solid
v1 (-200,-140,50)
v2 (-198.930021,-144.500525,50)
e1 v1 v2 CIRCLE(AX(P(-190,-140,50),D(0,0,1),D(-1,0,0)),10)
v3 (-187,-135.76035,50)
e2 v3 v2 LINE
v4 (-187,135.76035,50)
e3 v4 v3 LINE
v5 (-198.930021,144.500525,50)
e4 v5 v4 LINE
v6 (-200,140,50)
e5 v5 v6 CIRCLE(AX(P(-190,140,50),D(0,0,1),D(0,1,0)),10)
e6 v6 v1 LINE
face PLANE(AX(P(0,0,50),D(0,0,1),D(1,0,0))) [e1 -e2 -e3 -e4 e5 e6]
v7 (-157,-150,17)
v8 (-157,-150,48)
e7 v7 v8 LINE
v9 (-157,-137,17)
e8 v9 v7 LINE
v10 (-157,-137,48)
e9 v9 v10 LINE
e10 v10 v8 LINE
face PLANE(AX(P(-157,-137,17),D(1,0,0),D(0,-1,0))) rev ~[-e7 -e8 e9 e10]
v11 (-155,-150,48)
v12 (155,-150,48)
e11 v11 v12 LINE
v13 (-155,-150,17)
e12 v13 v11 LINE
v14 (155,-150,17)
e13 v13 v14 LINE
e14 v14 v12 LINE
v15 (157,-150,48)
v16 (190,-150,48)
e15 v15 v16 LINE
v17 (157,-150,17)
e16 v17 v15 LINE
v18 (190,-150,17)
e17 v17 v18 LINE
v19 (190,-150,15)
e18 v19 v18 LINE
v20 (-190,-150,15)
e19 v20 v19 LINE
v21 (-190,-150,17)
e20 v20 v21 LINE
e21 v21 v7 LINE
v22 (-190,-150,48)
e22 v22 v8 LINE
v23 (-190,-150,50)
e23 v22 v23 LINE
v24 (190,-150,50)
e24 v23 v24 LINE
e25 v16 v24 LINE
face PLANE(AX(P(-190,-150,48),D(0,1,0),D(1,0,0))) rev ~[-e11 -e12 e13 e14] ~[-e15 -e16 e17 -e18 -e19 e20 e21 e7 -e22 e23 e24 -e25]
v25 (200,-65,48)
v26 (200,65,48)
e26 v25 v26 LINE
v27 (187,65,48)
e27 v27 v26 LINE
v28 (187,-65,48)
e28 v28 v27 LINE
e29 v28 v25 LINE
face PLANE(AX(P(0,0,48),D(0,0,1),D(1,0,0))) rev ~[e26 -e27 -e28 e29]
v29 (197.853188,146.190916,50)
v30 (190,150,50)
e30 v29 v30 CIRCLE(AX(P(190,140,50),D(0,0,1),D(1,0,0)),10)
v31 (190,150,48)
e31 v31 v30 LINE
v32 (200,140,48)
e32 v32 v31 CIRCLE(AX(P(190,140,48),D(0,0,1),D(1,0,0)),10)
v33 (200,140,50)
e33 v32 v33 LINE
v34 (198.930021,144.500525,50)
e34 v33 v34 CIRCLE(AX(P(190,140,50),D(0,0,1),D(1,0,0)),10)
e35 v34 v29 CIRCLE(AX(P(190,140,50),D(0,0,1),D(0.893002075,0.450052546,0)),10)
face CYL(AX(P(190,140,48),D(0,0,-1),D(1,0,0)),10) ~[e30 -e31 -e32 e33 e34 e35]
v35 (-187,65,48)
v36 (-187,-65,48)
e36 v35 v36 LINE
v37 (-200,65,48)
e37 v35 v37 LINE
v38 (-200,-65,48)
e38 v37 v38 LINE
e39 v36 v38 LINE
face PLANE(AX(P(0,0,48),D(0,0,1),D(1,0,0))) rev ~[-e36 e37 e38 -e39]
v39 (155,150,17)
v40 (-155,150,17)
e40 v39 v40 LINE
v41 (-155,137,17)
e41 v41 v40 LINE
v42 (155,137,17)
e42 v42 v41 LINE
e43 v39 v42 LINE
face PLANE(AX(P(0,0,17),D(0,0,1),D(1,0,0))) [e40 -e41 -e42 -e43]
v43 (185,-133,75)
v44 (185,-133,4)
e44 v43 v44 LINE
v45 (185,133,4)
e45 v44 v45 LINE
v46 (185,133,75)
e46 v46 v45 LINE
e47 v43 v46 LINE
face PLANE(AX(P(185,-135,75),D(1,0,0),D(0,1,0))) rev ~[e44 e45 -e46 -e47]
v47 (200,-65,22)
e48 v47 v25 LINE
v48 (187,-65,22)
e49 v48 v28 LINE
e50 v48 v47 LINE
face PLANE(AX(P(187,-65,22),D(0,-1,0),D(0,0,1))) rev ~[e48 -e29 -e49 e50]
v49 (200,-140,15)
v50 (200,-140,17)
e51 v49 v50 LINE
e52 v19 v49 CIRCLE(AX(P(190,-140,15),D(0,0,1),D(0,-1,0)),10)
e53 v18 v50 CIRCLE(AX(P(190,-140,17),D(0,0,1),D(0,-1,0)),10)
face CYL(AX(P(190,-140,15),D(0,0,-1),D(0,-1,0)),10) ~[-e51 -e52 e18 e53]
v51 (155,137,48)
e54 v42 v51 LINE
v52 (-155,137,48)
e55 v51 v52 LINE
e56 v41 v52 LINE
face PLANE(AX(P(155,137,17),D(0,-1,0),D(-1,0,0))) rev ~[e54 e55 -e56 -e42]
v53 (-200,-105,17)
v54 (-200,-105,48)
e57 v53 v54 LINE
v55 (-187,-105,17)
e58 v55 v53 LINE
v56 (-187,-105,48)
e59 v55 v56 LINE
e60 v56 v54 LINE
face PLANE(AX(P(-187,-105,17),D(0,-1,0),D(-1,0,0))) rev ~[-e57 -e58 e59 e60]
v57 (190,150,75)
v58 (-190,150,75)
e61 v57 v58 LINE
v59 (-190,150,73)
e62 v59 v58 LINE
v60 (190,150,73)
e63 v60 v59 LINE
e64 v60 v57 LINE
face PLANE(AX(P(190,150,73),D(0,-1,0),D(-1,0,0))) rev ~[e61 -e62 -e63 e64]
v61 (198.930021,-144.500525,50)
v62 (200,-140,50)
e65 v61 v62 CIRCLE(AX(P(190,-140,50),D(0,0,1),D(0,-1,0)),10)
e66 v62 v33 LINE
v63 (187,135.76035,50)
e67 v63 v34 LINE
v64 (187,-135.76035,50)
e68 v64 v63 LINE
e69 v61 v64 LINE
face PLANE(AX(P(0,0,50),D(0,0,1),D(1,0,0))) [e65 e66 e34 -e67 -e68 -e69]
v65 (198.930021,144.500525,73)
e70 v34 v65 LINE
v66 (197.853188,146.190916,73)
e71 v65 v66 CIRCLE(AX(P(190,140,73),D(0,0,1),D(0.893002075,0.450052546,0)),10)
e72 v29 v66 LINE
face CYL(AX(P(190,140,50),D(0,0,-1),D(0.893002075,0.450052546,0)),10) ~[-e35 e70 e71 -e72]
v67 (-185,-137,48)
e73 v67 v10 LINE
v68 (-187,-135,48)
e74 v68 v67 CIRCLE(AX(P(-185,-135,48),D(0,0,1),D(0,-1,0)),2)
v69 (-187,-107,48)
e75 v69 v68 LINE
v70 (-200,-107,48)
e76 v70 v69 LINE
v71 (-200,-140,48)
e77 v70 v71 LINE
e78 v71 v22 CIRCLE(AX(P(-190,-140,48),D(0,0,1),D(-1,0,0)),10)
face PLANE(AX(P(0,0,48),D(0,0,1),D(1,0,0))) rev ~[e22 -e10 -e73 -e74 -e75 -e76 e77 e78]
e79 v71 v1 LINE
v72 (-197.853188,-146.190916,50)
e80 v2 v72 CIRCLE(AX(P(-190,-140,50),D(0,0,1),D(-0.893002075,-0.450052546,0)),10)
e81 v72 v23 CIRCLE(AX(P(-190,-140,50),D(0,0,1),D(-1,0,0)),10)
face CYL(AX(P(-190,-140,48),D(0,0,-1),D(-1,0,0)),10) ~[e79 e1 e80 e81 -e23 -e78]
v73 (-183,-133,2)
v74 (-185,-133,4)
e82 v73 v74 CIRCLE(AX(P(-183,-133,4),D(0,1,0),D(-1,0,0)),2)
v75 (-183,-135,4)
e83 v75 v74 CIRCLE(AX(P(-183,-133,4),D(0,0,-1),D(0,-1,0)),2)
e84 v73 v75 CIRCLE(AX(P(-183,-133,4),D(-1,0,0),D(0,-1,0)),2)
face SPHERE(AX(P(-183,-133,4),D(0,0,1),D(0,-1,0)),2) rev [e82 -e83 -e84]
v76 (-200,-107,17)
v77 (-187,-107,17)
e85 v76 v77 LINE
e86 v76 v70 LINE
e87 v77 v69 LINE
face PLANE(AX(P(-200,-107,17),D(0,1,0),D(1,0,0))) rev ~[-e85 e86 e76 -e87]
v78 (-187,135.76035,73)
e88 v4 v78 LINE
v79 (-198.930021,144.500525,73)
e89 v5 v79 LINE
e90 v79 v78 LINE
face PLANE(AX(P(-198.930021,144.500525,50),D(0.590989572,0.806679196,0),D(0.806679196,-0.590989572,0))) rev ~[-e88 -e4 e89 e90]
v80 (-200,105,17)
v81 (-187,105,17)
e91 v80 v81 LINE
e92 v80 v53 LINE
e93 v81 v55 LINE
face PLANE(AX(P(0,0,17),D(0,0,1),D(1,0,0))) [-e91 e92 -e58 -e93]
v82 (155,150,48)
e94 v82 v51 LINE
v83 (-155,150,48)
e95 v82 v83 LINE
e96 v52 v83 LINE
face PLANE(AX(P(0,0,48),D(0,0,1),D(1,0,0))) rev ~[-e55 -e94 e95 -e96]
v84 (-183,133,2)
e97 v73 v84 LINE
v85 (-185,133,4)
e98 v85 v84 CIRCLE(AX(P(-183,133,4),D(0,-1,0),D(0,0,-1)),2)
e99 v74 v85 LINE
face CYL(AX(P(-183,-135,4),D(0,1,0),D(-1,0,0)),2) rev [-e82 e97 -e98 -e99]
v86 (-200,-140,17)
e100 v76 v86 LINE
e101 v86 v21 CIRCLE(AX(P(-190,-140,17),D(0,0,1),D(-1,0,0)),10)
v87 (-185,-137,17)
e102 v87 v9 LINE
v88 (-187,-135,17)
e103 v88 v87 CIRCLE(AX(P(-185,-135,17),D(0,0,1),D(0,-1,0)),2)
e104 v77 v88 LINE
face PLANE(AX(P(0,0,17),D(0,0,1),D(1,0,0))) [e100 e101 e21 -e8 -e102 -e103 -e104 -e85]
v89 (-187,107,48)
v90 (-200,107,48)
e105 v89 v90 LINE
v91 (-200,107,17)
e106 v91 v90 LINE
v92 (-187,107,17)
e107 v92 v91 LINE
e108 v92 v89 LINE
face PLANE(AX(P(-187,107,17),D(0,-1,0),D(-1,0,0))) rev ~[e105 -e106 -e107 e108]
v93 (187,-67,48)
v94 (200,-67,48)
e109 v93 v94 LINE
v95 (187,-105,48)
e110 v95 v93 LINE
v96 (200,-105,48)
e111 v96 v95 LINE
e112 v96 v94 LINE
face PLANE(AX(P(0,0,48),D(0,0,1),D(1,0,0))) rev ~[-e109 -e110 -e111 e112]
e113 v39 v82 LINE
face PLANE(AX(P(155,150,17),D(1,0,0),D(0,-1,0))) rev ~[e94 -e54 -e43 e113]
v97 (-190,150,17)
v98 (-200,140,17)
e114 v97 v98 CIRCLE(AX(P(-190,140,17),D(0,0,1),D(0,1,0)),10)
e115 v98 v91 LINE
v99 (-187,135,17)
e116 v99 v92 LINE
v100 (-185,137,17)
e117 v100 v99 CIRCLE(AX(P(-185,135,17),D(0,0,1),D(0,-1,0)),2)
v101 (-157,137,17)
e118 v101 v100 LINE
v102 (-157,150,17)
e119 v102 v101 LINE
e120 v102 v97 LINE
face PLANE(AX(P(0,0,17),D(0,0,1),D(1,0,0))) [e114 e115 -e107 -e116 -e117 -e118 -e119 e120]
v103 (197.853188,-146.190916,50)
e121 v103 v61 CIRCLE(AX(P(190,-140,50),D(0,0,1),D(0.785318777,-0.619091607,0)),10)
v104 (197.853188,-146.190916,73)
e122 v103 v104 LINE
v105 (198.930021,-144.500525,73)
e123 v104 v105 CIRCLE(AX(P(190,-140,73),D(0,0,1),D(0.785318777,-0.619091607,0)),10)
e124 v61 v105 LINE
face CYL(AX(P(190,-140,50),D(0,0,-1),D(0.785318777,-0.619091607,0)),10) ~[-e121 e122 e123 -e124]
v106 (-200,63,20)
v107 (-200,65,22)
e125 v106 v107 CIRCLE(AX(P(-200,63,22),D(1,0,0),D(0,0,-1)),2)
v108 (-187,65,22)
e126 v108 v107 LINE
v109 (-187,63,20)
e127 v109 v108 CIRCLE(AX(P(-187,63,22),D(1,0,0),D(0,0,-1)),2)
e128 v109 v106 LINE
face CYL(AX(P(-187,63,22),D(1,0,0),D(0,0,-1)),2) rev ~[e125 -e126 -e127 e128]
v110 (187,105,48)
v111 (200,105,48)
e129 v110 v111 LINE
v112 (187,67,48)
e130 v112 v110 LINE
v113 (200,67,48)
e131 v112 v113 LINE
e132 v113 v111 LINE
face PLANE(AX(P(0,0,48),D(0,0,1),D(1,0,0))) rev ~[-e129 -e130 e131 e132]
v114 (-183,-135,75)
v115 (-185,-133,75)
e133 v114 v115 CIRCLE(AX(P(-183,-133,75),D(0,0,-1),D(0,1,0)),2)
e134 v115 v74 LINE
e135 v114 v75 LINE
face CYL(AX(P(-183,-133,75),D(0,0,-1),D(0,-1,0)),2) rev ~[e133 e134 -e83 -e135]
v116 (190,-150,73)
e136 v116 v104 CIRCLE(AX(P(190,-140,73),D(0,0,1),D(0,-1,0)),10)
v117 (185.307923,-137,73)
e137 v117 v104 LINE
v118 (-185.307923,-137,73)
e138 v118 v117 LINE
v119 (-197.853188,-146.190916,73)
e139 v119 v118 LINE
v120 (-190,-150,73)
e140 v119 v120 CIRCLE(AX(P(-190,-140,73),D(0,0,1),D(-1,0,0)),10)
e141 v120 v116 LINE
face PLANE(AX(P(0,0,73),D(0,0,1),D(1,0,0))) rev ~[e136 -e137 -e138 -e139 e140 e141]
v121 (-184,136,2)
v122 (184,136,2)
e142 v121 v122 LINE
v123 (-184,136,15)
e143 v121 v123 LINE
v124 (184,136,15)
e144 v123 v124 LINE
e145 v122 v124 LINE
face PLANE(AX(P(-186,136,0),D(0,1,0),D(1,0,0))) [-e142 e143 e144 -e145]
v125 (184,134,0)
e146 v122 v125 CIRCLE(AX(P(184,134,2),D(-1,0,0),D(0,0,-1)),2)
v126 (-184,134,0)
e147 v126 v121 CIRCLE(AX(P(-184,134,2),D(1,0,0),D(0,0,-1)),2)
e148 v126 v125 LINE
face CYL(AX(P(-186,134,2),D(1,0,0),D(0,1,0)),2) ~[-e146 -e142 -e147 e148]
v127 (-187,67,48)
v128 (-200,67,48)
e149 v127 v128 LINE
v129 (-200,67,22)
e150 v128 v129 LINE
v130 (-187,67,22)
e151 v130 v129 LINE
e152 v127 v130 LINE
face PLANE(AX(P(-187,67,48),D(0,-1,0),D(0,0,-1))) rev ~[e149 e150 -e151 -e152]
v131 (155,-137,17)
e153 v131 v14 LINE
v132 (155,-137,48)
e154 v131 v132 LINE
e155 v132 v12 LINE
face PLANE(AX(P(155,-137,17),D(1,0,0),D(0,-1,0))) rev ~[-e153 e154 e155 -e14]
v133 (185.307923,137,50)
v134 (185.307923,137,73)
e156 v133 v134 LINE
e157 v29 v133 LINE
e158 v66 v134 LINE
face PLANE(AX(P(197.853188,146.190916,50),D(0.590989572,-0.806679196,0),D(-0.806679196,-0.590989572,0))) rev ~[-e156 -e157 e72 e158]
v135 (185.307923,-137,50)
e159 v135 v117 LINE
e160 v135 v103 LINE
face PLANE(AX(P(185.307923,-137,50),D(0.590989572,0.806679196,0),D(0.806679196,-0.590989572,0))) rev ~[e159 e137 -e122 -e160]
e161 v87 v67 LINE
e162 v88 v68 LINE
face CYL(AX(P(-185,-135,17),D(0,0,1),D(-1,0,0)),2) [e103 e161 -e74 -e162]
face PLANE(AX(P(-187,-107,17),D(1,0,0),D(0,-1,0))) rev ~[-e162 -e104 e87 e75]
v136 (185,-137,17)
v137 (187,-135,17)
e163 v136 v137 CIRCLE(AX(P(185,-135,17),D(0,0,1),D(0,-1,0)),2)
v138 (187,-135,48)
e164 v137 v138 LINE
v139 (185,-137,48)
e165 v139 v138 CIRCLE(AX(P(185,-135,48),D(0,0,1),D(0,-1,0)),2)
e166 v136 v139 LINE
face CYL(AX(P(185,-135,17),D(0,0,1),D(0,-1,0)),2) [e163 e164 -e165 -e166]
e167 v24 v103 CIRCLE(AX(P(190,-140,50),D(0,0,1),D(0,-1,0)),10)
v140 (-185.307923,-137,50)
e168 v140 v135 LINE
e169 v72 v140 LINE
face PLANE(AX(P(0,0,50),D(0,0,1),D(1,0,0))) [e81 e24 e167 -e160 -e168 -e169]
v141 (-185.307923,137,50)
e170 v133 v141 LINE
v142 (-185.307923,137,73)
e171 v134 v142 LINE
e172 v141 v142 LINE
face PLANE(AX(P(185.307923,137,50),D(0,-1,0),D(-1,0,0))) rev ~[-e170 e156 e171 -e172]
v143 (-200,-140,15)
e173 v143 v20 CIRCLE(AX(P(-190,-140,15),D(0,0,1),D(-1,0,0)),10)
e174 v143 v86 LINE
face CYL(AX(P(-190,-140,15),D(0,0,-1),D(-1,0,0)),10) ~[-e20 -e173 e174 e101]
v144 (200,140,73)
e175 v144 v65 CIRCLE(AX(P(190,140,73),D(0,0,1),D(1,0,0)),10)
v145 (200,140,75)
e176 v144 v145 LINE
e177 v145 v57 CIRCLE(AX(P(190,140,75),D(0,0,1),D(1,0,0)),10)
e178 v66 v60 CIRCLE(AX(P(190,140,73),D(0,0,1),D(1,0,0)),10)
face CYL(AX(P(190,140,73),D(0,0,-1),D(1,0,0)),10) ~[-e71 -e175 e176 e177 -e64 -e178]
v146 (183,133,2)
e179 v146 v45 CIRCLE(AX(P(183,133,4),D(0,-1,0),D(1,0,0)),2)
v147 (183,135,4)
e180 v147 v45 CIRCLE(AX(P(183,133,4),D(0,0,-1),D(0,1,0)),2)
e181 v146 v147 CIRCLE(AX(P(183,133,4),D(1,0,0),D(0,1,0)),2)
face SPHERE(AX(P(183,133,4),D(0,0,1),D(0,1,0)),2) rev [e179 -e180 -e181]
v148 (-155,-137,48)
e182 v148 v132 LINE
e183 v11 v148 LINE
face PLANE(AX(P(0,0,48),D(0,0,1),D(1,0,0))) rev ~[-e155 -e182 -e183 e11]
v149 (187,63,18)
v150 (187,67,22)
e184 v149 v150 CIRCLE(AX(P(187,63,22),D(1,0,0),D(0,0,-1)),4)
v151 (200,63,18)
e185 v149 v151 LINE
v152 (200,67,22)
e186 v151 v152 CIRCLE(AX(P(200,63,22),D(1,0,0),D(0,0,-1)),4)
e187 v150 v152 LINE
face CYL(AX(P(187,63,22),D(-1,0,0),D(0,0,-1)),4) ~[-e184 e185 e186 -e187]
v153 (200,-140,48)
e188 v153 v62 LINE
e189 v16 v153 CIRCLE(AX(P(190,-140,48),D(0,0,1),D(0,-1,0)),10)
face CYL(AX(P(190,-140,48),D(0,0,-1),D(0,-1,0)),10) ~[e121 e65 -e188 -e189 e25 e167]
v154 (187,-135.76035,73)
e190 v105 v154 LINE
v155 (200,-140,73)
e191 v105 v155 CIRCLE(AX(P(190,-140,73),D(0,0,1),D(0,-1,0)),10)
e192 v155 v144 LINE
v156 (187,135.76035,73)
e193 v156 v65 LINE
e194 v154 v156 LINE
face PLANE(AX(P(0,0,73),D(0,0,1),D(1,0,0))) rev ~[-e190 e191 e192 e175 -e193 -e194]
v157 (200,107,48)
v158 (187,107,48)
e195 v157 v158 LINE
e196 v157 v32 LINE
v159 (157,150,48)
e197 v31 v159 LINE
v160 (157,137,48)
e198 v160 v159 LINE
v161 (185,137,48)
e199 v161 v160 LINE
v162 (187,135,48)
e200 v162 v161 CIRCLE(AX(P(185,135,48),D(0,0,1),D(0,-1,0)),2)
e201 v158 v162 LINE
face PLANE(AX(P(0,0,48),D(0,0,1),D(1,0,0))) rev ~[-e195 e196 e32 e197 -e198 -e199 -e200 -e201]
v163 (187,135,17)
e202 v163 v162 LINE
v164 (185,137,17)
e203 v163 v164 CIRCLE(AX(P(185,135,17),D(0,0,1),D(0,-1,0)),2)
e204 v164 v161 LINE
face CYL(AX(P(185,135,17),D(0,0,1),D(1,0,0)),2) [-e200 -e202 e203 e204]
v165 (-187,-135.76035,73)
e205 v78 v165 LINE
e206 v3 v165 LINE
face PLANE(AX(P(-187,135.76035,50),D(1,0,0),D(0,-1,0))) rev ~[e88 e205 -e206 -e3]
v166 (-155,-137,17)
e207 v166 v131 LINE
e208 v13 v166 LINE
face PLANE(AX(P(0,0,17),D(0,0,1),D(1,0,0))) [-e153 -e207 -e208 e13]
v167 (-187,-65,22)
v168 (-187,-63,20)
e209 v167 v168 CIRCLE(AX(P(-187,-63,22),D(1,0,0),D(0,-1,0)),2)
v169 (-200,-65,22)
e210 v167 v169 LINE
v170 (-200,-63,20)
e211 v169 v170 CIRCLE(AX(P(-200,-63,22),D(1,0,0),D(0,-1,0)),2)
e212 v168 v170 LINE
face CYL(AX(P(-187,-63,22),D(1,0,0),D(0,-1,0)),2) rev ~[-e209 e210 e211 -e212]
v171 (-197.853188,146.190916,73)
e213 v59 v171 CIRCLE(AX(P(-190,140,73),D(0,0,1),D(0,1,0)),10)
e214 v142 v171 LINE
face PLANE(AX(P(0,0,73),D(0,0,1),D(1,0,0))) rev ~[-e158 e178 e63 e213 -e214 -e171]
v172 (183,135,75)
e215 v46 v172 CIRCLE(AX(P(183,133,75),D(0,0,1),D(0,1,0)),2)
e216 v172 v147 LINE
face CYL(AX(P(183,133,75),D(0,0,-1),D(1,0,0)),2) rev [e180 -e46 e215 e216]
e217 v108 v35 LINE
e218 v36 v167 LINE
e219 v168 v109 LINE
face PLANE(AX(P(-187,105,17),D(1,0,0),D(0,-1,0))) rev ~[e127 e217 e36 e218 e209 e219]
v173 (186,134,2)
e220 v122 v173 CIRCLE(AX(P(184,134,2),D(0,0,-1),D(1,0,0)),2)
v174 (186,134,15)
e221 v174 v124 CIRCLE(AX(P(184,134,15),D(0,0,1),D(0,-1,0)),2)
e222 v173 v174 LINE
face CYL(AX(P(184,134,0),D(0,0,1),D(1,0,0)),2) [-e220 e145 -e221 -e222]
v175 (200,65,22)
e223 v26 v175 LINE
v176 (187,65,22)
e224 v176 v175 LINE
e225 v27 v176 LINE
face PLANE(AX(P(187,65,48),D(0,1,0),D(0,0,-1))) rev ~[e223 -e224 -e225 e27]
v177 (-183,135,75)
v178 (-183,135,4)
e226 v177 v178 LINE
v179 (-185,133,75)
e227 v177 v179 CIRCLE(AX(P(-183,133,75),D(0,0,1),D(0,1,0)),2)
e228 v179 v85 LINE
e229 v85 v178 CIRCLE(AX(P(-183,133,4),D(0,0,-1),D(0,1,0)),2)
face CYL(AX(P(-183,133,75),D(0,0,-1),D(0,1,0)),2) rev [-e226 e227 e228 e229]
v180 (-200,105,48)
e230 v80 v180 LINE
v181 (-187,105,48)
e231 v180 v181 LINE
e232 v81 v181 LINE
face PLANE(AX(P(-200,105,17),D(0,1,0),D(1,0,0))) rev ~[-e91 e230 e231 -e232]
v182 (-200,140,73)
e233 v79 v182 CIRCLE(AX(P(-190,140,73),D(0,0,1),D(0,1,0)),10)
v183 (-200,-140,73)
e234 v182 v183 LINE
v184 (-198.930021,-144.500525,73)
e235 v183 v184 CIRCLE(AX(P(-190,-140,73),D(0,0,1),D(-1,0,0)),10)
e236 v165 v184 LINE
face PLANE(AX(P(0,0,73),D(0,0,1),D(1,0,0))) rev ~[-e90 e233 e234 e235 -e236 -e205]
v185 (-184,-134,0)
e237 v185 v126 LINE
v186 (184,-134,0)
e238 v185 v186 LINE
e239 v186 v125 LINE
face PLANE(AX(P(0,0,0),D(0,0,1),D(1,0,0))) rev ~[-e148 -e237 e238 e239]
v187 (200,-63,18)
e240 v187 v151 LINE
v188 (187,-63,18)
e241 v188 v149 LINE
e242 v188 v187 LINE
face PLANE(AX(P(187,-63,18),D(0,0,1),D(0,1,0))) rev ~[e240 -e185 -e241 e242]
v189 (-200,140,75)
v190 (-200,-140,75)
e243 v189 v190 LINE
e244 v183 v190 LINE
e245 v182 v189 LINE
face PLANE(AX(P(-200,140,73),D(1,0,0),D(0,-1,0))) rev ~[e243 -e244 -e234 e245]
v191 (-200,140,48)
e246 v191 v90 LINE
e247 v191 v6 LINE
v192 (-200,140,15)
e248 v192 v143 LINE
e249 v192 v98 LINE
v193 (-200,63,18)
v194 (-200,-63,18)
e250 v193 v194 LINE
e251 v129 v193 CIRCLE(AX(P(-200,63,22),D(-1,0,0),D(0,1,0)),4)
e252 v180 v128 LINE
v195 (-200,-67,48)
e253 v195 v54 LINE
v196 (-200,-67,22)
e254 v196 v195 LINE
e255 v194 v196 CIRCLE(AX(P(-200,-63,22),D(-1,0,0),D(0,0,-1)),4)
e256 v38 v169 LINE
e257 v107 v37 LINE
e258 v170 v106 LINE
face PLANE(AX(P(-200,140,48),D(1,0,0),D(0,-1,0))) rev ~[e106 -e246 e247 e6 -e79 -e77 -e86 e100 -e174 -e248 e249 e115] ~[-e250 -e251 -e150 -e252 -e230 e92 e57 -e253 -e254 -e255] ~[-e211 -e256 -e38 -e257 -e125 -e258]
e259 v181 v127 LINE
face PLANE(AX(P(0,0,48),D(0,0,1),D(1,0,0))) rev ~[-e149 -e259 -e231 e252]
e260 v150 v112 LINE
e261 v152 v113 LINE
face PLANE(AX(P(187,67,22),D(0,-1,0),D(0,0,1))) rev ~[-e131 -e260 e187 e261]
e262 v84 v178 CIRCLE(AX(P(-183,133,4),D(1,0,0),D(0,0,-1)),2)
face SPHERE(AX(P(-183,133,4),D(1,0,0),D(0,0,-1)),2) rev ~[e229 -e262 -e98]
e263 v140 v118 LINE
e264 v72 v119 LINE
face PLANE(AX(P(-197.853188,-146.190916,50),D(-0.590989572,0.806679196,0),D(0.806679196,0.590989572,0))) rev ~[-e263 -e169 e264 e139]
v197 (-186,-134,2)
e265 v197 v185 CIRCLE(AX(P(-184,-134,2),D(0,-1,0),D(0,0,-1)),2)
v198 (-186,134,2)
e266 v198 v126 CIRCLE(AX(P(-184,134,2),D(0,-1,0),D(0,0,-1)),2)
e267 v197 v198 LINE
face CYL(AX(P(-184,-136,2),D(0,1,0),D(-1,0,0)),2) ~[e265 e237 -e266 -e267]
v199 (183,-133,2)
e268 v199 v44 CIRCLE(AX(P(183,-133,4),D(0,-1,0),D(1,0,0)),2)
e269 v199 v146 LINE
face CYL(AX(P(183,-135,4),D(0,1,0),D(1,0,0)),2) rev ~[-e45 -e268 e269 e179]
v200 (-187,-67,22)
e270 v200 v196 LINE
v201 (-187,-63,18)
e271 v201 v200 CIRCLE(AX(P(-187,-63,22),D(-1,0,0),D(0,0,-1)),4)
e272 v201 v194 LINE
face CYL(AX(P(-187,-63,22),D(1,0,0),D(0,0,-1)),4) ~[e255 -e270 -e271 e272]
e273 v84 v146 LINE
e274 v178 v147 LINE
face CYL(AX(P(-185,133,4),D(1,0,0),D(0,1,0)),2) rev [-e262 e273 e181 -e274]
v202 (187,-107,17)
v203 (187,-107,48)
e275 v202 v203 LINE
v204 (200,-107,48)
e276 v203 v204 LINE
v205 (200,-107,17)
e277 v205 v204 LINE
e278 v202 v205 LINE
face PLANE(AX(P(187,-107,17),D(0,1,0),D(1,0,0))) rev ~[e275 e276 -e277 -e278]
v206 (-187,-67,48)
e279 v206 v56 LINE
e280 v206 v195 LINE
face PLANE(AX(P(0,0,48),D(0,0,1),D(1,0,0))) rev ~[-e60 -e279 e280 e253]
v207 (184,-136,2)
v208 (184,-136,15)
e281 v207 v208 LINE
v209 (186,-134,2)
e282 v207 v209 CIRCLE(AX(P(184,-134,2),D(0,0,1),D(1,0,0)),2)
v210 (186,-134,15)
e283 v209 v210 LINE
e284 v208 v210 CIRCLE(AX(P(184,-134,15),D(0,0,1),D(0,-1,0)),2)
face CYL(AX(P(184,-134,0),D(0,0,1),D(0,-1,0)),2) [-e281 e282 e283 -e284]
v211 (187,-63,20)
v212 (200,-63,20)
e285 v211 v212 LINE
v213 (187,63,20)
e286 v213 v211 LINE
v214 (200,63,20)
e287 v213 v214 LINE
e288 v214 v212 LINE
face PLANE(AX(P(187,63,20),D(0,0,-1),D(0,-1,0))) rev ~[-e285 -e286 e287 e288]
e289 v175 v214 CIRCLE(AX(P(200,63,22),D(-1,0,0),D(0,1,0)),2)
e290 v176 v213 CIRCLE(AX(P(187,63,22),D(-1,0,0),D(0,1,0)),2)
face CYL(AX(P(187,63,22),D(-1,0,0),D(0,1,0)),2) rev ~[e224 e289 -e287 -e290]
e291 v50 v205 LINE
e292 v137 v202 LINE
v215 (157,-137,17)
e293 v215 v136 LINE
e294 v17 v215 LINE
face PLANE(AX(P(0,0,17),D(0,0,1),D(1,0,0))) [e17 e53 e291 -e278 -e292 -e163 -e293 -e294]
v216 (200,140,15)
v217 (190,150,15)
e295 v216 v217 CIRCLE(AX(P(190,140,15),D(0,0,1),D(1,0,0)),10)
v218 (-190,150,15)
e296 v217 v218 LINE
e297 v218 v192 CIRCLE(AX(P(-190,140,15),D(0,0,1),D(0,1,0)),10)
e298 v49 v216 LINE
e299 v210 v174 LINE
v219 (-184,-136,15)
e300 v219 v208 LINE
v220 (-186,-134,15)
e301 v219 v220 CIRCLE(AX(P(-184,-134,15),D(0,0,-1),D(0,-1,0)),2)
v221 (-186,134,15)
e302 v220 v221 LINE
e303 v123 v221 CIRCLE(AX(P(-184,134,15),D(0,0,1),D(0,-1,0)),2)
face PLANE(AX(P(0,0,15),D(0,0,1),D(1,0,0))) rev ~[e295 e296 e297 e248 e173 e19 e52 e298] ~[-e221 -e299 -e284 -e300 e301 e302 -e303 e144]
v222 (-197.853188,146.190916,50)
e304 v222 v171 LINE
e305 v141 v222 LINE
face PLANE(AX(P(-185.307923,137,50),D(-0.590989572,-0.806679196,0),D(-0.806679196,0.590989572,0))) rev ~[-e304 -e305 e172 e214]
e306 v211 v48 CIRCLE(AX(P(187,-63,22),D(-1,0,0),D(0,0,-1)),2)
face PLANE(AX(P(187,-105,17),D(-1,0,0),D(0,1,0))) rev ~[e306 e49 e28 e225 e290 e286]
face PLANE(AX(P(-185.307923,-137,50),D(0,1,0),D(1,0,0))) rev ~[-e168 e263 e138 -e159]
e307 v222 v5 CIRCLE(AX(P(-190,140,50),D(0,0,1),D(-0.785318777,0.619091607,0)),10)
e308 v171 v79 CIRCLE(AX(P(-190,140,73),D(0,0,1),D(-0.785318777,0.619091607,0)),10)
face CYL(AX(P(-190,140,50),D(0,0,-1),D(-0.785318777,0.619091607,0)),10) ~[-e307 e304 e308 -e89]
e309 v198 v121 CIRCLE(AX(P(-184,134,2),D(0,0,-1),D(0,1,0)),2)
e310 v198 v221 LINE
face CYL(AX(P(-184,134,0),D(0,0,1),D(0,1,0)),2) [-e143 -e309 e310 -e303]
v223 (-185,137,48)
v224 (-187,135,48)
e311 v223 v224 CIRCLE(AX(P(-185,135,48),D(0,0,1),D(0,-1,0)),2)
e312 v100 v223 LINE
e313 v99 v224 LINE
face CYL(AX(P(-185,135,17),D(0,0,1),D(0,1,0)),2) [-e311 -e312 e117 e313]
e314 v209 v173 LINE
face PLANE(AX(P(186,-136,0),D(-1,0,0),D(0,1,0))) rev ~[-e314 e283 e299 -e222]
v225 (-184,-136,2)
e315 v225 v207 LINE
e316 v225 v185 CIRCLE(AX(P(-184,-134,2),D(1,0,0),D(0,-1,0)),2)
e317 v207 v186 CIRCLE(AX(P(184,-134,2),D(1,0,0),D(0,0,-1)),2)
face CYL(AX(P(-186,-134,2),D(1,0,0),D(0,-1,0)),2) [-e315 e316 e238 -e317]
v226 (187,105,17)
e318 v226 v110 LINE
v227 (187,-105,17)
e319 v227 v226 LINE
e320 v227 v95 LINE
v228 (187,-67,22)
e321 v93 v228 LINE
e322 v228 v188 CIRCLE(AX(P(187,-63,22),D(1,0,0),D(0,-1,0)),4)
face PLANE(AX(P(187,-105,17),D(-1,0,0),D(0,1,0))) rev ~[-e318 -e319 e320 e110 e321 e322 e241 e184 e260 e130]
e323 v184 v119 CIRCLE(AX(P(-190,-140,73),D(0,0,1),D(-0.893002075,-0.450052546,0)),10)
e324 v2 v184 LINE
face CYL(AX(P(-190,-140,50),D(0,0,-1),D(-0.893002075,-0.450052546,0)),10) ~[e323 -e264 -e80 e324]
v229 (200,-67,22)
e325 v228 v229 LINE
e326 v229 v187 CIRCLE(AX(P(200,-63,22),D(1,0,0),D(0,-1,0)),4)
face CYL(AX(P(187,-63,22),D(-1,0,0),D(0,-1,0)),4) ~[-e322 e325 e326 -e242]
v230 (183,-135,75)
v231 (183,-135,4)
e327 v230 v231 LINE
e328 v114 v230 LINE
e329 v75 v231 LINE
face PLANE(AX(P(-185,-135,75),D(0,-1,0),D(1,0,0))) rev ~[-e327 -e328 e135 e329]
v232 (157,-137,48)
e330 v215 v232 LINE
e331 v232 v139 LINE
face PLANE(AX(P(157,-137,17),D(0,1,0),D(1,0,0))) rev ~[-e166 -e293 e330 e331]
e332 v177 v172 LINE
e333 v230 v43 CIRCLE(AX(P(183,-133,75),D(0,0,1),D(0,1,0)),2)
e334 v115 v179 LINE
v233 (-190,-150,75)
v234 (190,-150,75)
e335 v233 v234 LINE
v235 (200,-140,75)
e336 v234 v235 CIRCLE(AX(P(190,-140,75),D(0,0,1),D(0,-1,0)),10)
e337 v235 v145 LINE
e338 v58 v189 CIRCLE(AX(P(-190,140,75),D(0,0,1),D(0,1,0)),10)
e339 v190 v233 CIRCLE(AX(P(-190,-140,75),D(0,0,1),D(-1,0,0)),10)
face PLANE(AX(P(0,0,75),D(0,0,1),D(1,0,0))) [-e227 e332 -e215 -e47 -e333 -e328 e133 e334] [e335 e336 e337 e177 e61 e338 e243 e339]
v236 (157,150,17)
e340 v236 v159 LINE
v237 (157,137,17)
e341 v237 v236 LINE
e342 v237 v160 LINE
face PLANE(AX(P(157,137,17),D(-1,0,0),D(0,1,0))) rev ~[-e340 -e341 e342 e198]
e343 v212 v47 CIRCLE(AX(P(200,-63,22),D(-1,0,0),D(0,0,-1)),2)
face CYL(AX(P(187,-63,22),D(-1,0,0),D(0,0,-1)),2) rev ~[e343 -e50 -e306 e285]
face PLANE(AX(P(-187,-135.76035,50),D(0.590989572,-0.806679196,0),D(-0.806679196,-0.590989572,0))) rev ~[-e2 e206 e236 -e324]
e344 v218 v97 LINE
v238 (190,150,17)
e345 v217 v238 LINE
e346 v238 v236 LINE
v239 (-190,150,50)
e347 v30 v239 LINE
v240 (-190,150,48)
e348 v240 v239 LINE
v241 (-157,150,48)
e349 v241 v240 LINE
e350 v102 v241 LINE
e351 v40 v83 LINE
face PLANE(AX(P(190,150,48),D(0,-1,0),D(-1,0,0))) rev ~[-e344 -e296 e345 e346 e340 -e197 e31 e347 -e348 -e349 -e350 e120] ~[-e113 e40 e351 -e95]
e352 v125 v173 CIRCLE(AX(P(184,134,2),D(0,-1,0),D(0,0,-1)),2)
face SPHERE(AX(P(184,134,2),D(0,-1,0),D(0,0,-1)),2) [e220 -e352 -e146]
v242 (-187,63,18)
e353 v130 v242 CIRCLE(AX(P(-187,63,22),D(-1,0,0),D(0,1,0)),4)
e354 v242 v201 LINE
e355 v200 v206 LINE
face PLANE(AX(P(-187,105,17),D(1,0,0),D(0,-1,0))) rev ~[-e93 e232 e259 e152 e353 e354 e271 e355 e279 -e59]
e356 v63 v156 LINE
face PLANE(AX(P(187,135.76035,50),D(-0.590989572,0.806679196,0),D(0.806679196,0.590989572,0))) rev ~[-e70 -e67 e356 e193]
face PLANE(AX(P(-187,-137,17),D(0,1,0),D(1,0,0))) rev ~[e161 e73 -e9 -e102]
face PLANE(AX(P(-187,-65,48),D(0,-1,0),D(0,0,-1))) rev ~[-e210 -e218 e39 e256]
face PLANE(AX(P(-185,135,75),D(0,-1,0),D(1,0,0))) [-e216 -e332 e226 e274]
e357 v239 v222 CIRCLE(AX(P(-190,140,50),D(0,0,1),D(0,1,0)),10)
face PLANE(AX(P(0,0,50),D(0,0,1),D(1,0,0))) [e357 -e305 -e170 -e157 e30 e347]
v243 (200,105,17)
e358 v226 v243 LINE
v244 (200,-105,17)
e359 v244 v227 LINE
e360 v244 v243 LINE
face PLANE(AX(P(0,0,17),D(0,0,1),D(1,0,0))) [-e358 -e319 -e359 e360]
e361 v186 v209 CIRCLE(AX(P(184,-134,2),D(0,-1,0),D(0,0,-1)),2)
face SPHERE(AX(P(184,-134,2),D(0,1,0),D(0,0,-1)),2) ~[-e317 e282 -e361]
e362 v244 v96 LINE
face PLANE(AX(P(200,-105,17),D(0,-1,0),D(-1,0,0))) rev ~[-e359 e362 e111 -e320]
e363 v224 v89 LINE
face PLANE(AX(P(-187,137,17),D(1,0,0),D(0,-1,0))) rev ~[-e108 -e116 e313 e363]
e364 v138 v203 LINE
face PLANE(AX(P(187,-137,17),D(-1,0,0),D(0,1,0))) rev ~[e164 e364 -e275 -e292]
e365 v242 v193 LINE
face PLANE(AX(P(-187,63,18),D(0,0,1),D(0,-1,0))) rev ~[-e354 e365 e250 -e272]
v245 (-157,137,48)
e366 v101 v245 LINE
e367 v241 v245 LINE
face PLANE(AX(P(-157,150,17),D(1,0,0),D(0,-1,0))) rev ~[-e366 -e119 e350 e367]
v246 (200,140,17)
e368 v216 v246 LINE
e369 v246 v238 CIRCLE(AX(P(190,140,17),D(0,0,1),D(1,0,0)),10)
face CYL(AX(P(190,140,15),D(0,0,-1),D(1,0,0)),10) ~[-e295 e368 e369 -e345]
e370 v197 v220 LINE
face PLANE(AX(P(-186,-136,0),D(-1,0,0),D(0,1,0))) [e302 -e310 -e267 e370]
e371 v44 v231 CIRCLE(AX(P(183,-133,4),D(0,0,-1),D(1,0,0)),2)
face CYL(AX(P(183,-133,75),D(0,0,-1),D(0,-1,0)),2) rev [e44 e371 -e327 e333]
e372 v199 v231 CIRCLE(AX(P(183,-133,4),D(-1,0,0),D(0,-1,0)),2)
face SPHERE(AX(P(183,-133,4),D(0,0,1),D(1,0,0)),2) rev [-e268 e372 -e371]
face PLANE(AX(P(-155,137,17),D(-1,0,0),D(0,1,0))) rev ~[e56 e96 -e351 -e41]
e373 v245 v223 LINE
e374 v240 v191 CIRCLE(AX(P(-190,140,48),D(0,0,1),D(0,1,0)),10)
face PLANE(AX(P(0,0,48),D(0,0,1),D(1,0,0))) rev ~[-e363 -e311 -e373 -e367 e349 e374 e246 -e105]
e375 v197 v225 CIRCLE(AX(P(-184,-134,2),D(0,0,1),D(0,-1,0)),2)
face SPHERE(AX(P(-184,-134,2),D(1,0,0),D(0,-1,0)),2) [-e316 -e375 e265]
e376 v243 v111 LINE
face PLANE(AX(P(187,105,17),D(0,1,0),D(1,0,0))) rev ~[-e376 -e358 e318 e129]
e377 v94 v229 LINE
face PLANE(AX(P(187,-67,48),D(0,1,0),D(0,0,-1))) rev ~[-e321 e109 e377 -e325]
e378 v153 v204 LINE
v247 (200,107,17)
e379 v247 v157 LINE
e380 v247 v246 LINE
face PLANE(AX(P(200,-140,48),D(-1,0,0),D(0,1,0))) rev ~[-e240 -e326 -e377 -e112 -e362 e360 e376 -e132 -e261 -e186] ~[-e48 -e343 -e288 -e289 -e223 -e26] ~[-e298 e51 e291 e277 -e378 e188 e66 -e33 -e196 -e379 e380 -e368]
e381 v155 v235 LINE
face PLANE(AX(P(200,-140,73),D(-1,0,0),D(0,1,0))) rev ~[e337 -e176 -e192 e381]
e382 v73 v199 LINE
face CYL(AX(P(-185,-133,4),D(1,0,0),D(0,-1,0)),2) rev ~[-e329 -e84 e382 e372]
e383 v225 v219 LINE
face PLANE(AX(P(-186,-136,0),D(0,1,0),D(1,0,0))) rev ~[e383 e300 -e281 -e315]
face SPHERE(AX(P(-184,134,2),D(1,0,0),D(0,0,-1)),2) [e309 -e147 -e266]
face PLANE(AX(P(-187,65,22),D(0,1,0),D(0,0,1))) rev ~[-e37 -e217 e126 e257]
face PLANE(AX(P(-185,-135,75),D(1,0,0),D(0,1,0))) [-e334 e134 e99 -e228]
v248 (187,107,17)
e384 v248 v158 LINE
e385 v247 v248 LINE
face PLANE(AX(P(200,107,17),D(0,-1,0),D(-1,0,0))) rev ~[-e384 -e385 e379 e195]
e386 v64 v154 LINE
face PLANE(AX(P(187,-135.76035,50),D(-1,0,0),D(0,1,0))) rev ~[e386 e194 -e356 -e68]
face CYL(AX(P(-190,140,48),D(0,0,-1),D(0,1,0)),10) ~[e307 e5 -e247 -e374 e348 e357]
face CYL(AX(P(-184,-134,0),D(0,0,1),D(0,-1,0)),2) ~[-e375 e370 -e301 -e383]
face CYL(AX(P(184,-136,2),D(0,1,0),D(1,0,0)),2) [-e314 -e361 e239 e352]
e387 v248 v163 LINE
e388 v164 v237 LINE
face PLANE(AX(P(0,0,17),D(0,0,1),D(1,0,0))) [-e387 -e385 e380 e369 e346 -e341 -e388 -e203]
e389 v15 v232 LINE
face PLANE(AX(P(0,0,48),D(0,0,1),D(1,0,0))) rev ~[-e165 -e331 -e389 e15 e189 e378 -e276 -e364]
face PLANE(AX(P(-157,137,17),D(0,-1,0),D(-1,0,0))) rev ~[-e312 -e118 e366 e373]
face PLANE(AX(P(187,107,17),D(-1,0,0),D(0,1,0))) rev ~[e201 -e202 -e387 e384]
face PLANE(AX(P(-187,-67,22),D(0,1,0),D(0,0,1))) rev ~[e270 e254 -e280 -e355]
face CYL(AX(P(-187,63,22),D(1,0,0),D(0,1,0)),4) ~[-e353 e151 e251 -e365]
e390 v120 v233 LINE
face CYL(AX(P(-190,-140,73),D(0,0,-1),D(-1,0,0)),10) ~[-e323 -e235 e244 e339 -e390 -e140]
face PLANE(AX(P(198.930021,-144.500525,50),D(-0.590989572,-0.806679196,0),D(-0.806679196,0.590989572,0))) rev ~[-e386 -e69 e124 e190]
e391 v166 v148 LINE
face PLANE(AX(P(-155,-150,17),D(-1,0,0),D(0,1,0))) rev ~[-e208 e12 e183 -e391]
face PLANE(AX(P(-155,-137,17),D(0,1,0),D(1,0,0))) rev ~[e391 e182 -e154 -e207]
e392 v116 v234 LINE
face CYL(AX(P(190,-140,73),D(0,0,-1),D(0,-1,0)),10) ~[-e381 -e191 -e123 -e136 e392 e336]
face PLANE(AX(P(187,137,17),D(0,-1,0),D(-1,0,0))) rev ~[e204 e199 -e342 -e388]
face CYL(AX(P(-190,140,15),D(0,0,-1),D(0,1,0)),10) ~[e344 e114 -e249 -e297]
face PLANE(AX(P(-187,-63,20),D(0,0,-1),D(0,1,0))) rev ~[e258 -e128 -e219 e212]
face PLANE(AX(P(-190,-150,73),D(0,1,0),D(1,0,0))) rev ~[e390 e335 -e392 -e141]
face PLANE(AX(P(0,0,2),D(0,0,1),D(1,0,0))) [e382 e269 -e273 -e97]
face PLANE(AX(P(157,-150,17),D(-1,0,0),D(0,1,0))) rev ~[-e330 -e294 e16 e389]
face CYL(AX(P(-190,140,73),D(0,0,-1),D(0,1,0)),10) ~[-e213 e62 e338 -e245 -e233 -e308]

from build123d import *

# Parameters (mm, degrees)
F0_W      = 372
F0_H      = 272
F1_DEPTH  = 15
F2_W      = 372
F2_H      = 272
F3_DEPTH  = 2
F5_DEPTH  = 31
F7_DEPTH  = 2
F9_DEPTH  = 23
F11_DEPTH = 2
F12_W     = 370
F12_H     = 270
F13_DEPTH = 73
F15_DEPTH = 13
F17_DEPTH = 13
F18_R     = 2


with BuildPart() as f1:
    # F0 (on Top) → F1 (new body)
    with BuildSketch(Plane.XY):
        Rectangle(F0_W, F0_H)
    extrude(amount=F1_DEPTH)

    # F2 (on face) → F3 (join)
    with BuildSketch(Plane.XY.offset(15)):
        with BuildLine():
            Line((-190, -150), (190, -150))
            ThreePointArc((190, -150), (197.0710678119, -147.0710678119), (200, -140))
            Line((200, -140), (200, 140))
            ThreePointArc((200, 140), (197.0710678119, 147.0710678119), (190, 150))
            Line((190, 150), (-190, 150))
            ThreePointArc((-190, 150), (-197.0710678119, 147.0710678119), (-200, 140))
            Line((-200, 140), (-200, -140))
            ThreePointArc((-200, -140), (-197.0710678119, -147.0710678119), (-190, -150))
        make_face()
        Rectangle(F2_W, F2_H, mode=Mode.SUBTRACT)
        Rectangle(F2_W, F2_H)
    extrude(amount=F3_DEPTH)

    # F4 (on face) → F5 (join)
    with BuildSketch(Plane.XY.offset(17)):
        Polygon((157, -137), (187, -137), (187, -107), (200, -107), (200, -105), (187, -105), (187, 105), (200, 105), (200, 107), (187, 107), (187, 137), (157, 137), (157, 150), (155, 150), (155, 137), (-155, 137), (-155, 150), (-157, 150), (-157, 137), (-187, 137), (-187, 107), (-200, 107), (-200, 105), (-187, 105), (-187, -105), (-200, -105), (-200, -107), (-187, -107), (-187, -137), (-157, -137), (-157, -150), (-155, -150), (-155, -137), (155, -137), (155, -150), (157, -150), align=None)
    extrude(amount=F5_DEPTH)

    # F6 (on face) → F7 (join)
    with BuildSketch(Plane.XY.offset(48)):
        with BuildLine():
            Line((190, 150), (-190, 150))
            ThreePointArc((-190, 150), (-197.0710678119, 147.0710678119), (-200, 140))
            Line((-200, 140), (-200, -140))
            ThreePointArc((-200, -140), (-197.0710678119, -147.0710678119), (-190, -150))
            Line((-190, -150), (190, -150))
            ThreePointArc((190, -150), (197.0710678119, -147.0710678119), (200, -140))
            Line((200, -140), (200, 140))
            ThreePointArc((200, 140), (197.0710678119, 147.0710678119), (190, 150))
        make_face()
    extrude(amount=F7_DEPTH)

    # F8 (on face) → F9 (join)
    with BuildSketch(Plane.XY.offset(50)):
        with BuildLine():
            Line((-185.3079227659, -137), (185.3079227659, -137))
            Line((185.3079227659, -137), (197.8531877713, -146.1909160735))
            ThreePointArc((197.8531877713, -146.1909160735), (198.4340605379, -145.3727667773), (198.9300207482, -144.5005254622))
            Line((198.9300207482, -144.5005254622), (187, -135.7603498338))
            Line((187, -135.7603498338), (187, 135.7603498338))
            Line((187, 135.7603498338), (198.9300207482, 144.5005254622))
            ThreePointArc((198.9300207482, 144.5005254622), (198.4340605379, 145.3727667773), (197.8531877713, 146.1909160735))
            Line((197.8531877713, 146.1909160735), (185.3079227659, 137))
            Line((185.3079227659, 137), (-185.3079227659, 137))
            Line((-185.3079227659, 137), (-197.8531877713, 146.1909160735))
            ThreePointArc((-197.8531877713, 146.1909160735), (-198.4340605379, 145.3727667773), (-198.9300207482, 144.5005254622))
            Line((-198.9300207482, 144.5005254622), (-187, 135.7603498338))
            Line((-187, 135.7603498338), (-187, -135.7603498338))
            Line((-187, -135.7603498338), (-198.9300207482, -144.5005254622))
            ThreePointArc((-198.9300207482, -144.5005254622), (-198.4340605379, -145.3727667773), (-197.8531877713, -146.1909160735))
            Line((-197.8531877713, -146.1909160735), (-185.3079227659, -137))
        make_face()
    extrude(amount=F9_DEPTH)

    # F10 (on face) → F11 (join)
    with BuildSketch(Plane.XY.offset(73)):
        with BuildLine():
            Line((-190, -150), (190, -150))
            ThreePointArc((190, -150), (197.0710678119, -147.0710678119), (200, -140))
            Line((200, -140), (200, 140))
            ThreePointArc((200, 140), (197.0710678119, 147.0710678119), (190, 150))
            Line((190, 150), (-190, 150))
            ThreePointArc((-190, 150), (-197.0710678119, 147.0710678119), (-200, 140))
            Line((-200, 140), (-200, -140))
            ThreePointArc((-200, -140), (-197.0710678119, -147.0710678119), (-190, -150))
        make_face()
    extrude(amount=F11_DEPTH)

    # F12 (on face) → F13 (cut)
    with BuildSketch(Plane.XY.offset(75)):
        Rectangle(F12_W, F12_H)
    extrude(amount=-F13_DEPTH, mode=Mode.SUBTRACT)

    # F14 (on face) → F15 (join, through all)
    with BuildSketch(Plane(origin=(-187, 0, 0), x_dir=(0, -1, 0), z_dir=(-1, 0, 0))):
        with BuildLine():
            Line((-63, 18), (63, 18))
            ThreePointArc((63, 18), (65.8284271247, 19.1715728753), (67, 22))
            Line((67, 22), (67, 48))
            Line((67, 48), (65, 48))
            Line((65, 48), (65, 22))
            ThreePointArc((65, 22), (64.4142135624, 20.5857864376), (63, 20))
            Line((63, 20), (-63, 20))
            ThreePointArc((-63, 20), (-64.4142135624, 20.5857864376), (-65, 22))
            Line((-65, 22), (-65, 48))
            Line((-65, 48), (-67, 48))
            Line((-67, 48), (-67, 22))
            ThreePointArc((-67, 22), (-65.8284271247, 19.1715728753), (-63, 18))
        make_face()
    extrude(amount=F15_DEPTH)

    # F16 (on face) → F17 (join, through all)
    with BuildSketch(Plane.YZ.offset(187)):
        with BuildLine():
            ThreePointArc((63, 18), (65.8284271247, 19.1715728753), (67, 22))
            Line((67, 22), (67, 48))
            Line((67, 48), (65, 48))
            Line((65, 48), (65, 22))
            ThreePointArc((65, 22), (64.4142135624, 20.5857864376), (63, 20))
            Line((63, 20), (-63, 20))
            ThreePointArc((-63, 20), (-64.4142135624, 20.5857864376), (-65, 22))
            Line((-65, 22), (-65, 48))
            Line((-65, 48), (-67, 48))
            Line((-67, 48), (-67, 22))
            ThreePointArc((-67, 22), (-65.8284271247, 19.1715728753), (-63, 18))
            Line((-63, 18), (63, 18))
        make_face()
    extrude(amount=F17_DEPTH)

    # F18
    f18_edges = [f1.edges().sort_by_distance(p)[0] for p in [
        (-185, -135, 38.5),
        (185, -135, 38.5),
        (185, 135, 38.5),
        (0, 135, 2),
        (185, 0, 2),
        (0, -135, 2),
        (-185, 0, 2),
        (-185, 135, 38.5),
        (187, -137, 32.5),
        (187, 137, 32.5),
        (-187, 137, 32.5),
        (-187, -137, 32.5),
        (186, 0, 0),
        (0, 136, 0),
        (186, 136, 7.5),
        (0, -136, 0),
        (186, -136, 7.5),
        (-186, -136, 7.5),
        (-186, 0, 0),
        (-186, 136, 7.5),
    ]]
    fillet(f18_edges, radius=F18_R)


solid = f1.part
